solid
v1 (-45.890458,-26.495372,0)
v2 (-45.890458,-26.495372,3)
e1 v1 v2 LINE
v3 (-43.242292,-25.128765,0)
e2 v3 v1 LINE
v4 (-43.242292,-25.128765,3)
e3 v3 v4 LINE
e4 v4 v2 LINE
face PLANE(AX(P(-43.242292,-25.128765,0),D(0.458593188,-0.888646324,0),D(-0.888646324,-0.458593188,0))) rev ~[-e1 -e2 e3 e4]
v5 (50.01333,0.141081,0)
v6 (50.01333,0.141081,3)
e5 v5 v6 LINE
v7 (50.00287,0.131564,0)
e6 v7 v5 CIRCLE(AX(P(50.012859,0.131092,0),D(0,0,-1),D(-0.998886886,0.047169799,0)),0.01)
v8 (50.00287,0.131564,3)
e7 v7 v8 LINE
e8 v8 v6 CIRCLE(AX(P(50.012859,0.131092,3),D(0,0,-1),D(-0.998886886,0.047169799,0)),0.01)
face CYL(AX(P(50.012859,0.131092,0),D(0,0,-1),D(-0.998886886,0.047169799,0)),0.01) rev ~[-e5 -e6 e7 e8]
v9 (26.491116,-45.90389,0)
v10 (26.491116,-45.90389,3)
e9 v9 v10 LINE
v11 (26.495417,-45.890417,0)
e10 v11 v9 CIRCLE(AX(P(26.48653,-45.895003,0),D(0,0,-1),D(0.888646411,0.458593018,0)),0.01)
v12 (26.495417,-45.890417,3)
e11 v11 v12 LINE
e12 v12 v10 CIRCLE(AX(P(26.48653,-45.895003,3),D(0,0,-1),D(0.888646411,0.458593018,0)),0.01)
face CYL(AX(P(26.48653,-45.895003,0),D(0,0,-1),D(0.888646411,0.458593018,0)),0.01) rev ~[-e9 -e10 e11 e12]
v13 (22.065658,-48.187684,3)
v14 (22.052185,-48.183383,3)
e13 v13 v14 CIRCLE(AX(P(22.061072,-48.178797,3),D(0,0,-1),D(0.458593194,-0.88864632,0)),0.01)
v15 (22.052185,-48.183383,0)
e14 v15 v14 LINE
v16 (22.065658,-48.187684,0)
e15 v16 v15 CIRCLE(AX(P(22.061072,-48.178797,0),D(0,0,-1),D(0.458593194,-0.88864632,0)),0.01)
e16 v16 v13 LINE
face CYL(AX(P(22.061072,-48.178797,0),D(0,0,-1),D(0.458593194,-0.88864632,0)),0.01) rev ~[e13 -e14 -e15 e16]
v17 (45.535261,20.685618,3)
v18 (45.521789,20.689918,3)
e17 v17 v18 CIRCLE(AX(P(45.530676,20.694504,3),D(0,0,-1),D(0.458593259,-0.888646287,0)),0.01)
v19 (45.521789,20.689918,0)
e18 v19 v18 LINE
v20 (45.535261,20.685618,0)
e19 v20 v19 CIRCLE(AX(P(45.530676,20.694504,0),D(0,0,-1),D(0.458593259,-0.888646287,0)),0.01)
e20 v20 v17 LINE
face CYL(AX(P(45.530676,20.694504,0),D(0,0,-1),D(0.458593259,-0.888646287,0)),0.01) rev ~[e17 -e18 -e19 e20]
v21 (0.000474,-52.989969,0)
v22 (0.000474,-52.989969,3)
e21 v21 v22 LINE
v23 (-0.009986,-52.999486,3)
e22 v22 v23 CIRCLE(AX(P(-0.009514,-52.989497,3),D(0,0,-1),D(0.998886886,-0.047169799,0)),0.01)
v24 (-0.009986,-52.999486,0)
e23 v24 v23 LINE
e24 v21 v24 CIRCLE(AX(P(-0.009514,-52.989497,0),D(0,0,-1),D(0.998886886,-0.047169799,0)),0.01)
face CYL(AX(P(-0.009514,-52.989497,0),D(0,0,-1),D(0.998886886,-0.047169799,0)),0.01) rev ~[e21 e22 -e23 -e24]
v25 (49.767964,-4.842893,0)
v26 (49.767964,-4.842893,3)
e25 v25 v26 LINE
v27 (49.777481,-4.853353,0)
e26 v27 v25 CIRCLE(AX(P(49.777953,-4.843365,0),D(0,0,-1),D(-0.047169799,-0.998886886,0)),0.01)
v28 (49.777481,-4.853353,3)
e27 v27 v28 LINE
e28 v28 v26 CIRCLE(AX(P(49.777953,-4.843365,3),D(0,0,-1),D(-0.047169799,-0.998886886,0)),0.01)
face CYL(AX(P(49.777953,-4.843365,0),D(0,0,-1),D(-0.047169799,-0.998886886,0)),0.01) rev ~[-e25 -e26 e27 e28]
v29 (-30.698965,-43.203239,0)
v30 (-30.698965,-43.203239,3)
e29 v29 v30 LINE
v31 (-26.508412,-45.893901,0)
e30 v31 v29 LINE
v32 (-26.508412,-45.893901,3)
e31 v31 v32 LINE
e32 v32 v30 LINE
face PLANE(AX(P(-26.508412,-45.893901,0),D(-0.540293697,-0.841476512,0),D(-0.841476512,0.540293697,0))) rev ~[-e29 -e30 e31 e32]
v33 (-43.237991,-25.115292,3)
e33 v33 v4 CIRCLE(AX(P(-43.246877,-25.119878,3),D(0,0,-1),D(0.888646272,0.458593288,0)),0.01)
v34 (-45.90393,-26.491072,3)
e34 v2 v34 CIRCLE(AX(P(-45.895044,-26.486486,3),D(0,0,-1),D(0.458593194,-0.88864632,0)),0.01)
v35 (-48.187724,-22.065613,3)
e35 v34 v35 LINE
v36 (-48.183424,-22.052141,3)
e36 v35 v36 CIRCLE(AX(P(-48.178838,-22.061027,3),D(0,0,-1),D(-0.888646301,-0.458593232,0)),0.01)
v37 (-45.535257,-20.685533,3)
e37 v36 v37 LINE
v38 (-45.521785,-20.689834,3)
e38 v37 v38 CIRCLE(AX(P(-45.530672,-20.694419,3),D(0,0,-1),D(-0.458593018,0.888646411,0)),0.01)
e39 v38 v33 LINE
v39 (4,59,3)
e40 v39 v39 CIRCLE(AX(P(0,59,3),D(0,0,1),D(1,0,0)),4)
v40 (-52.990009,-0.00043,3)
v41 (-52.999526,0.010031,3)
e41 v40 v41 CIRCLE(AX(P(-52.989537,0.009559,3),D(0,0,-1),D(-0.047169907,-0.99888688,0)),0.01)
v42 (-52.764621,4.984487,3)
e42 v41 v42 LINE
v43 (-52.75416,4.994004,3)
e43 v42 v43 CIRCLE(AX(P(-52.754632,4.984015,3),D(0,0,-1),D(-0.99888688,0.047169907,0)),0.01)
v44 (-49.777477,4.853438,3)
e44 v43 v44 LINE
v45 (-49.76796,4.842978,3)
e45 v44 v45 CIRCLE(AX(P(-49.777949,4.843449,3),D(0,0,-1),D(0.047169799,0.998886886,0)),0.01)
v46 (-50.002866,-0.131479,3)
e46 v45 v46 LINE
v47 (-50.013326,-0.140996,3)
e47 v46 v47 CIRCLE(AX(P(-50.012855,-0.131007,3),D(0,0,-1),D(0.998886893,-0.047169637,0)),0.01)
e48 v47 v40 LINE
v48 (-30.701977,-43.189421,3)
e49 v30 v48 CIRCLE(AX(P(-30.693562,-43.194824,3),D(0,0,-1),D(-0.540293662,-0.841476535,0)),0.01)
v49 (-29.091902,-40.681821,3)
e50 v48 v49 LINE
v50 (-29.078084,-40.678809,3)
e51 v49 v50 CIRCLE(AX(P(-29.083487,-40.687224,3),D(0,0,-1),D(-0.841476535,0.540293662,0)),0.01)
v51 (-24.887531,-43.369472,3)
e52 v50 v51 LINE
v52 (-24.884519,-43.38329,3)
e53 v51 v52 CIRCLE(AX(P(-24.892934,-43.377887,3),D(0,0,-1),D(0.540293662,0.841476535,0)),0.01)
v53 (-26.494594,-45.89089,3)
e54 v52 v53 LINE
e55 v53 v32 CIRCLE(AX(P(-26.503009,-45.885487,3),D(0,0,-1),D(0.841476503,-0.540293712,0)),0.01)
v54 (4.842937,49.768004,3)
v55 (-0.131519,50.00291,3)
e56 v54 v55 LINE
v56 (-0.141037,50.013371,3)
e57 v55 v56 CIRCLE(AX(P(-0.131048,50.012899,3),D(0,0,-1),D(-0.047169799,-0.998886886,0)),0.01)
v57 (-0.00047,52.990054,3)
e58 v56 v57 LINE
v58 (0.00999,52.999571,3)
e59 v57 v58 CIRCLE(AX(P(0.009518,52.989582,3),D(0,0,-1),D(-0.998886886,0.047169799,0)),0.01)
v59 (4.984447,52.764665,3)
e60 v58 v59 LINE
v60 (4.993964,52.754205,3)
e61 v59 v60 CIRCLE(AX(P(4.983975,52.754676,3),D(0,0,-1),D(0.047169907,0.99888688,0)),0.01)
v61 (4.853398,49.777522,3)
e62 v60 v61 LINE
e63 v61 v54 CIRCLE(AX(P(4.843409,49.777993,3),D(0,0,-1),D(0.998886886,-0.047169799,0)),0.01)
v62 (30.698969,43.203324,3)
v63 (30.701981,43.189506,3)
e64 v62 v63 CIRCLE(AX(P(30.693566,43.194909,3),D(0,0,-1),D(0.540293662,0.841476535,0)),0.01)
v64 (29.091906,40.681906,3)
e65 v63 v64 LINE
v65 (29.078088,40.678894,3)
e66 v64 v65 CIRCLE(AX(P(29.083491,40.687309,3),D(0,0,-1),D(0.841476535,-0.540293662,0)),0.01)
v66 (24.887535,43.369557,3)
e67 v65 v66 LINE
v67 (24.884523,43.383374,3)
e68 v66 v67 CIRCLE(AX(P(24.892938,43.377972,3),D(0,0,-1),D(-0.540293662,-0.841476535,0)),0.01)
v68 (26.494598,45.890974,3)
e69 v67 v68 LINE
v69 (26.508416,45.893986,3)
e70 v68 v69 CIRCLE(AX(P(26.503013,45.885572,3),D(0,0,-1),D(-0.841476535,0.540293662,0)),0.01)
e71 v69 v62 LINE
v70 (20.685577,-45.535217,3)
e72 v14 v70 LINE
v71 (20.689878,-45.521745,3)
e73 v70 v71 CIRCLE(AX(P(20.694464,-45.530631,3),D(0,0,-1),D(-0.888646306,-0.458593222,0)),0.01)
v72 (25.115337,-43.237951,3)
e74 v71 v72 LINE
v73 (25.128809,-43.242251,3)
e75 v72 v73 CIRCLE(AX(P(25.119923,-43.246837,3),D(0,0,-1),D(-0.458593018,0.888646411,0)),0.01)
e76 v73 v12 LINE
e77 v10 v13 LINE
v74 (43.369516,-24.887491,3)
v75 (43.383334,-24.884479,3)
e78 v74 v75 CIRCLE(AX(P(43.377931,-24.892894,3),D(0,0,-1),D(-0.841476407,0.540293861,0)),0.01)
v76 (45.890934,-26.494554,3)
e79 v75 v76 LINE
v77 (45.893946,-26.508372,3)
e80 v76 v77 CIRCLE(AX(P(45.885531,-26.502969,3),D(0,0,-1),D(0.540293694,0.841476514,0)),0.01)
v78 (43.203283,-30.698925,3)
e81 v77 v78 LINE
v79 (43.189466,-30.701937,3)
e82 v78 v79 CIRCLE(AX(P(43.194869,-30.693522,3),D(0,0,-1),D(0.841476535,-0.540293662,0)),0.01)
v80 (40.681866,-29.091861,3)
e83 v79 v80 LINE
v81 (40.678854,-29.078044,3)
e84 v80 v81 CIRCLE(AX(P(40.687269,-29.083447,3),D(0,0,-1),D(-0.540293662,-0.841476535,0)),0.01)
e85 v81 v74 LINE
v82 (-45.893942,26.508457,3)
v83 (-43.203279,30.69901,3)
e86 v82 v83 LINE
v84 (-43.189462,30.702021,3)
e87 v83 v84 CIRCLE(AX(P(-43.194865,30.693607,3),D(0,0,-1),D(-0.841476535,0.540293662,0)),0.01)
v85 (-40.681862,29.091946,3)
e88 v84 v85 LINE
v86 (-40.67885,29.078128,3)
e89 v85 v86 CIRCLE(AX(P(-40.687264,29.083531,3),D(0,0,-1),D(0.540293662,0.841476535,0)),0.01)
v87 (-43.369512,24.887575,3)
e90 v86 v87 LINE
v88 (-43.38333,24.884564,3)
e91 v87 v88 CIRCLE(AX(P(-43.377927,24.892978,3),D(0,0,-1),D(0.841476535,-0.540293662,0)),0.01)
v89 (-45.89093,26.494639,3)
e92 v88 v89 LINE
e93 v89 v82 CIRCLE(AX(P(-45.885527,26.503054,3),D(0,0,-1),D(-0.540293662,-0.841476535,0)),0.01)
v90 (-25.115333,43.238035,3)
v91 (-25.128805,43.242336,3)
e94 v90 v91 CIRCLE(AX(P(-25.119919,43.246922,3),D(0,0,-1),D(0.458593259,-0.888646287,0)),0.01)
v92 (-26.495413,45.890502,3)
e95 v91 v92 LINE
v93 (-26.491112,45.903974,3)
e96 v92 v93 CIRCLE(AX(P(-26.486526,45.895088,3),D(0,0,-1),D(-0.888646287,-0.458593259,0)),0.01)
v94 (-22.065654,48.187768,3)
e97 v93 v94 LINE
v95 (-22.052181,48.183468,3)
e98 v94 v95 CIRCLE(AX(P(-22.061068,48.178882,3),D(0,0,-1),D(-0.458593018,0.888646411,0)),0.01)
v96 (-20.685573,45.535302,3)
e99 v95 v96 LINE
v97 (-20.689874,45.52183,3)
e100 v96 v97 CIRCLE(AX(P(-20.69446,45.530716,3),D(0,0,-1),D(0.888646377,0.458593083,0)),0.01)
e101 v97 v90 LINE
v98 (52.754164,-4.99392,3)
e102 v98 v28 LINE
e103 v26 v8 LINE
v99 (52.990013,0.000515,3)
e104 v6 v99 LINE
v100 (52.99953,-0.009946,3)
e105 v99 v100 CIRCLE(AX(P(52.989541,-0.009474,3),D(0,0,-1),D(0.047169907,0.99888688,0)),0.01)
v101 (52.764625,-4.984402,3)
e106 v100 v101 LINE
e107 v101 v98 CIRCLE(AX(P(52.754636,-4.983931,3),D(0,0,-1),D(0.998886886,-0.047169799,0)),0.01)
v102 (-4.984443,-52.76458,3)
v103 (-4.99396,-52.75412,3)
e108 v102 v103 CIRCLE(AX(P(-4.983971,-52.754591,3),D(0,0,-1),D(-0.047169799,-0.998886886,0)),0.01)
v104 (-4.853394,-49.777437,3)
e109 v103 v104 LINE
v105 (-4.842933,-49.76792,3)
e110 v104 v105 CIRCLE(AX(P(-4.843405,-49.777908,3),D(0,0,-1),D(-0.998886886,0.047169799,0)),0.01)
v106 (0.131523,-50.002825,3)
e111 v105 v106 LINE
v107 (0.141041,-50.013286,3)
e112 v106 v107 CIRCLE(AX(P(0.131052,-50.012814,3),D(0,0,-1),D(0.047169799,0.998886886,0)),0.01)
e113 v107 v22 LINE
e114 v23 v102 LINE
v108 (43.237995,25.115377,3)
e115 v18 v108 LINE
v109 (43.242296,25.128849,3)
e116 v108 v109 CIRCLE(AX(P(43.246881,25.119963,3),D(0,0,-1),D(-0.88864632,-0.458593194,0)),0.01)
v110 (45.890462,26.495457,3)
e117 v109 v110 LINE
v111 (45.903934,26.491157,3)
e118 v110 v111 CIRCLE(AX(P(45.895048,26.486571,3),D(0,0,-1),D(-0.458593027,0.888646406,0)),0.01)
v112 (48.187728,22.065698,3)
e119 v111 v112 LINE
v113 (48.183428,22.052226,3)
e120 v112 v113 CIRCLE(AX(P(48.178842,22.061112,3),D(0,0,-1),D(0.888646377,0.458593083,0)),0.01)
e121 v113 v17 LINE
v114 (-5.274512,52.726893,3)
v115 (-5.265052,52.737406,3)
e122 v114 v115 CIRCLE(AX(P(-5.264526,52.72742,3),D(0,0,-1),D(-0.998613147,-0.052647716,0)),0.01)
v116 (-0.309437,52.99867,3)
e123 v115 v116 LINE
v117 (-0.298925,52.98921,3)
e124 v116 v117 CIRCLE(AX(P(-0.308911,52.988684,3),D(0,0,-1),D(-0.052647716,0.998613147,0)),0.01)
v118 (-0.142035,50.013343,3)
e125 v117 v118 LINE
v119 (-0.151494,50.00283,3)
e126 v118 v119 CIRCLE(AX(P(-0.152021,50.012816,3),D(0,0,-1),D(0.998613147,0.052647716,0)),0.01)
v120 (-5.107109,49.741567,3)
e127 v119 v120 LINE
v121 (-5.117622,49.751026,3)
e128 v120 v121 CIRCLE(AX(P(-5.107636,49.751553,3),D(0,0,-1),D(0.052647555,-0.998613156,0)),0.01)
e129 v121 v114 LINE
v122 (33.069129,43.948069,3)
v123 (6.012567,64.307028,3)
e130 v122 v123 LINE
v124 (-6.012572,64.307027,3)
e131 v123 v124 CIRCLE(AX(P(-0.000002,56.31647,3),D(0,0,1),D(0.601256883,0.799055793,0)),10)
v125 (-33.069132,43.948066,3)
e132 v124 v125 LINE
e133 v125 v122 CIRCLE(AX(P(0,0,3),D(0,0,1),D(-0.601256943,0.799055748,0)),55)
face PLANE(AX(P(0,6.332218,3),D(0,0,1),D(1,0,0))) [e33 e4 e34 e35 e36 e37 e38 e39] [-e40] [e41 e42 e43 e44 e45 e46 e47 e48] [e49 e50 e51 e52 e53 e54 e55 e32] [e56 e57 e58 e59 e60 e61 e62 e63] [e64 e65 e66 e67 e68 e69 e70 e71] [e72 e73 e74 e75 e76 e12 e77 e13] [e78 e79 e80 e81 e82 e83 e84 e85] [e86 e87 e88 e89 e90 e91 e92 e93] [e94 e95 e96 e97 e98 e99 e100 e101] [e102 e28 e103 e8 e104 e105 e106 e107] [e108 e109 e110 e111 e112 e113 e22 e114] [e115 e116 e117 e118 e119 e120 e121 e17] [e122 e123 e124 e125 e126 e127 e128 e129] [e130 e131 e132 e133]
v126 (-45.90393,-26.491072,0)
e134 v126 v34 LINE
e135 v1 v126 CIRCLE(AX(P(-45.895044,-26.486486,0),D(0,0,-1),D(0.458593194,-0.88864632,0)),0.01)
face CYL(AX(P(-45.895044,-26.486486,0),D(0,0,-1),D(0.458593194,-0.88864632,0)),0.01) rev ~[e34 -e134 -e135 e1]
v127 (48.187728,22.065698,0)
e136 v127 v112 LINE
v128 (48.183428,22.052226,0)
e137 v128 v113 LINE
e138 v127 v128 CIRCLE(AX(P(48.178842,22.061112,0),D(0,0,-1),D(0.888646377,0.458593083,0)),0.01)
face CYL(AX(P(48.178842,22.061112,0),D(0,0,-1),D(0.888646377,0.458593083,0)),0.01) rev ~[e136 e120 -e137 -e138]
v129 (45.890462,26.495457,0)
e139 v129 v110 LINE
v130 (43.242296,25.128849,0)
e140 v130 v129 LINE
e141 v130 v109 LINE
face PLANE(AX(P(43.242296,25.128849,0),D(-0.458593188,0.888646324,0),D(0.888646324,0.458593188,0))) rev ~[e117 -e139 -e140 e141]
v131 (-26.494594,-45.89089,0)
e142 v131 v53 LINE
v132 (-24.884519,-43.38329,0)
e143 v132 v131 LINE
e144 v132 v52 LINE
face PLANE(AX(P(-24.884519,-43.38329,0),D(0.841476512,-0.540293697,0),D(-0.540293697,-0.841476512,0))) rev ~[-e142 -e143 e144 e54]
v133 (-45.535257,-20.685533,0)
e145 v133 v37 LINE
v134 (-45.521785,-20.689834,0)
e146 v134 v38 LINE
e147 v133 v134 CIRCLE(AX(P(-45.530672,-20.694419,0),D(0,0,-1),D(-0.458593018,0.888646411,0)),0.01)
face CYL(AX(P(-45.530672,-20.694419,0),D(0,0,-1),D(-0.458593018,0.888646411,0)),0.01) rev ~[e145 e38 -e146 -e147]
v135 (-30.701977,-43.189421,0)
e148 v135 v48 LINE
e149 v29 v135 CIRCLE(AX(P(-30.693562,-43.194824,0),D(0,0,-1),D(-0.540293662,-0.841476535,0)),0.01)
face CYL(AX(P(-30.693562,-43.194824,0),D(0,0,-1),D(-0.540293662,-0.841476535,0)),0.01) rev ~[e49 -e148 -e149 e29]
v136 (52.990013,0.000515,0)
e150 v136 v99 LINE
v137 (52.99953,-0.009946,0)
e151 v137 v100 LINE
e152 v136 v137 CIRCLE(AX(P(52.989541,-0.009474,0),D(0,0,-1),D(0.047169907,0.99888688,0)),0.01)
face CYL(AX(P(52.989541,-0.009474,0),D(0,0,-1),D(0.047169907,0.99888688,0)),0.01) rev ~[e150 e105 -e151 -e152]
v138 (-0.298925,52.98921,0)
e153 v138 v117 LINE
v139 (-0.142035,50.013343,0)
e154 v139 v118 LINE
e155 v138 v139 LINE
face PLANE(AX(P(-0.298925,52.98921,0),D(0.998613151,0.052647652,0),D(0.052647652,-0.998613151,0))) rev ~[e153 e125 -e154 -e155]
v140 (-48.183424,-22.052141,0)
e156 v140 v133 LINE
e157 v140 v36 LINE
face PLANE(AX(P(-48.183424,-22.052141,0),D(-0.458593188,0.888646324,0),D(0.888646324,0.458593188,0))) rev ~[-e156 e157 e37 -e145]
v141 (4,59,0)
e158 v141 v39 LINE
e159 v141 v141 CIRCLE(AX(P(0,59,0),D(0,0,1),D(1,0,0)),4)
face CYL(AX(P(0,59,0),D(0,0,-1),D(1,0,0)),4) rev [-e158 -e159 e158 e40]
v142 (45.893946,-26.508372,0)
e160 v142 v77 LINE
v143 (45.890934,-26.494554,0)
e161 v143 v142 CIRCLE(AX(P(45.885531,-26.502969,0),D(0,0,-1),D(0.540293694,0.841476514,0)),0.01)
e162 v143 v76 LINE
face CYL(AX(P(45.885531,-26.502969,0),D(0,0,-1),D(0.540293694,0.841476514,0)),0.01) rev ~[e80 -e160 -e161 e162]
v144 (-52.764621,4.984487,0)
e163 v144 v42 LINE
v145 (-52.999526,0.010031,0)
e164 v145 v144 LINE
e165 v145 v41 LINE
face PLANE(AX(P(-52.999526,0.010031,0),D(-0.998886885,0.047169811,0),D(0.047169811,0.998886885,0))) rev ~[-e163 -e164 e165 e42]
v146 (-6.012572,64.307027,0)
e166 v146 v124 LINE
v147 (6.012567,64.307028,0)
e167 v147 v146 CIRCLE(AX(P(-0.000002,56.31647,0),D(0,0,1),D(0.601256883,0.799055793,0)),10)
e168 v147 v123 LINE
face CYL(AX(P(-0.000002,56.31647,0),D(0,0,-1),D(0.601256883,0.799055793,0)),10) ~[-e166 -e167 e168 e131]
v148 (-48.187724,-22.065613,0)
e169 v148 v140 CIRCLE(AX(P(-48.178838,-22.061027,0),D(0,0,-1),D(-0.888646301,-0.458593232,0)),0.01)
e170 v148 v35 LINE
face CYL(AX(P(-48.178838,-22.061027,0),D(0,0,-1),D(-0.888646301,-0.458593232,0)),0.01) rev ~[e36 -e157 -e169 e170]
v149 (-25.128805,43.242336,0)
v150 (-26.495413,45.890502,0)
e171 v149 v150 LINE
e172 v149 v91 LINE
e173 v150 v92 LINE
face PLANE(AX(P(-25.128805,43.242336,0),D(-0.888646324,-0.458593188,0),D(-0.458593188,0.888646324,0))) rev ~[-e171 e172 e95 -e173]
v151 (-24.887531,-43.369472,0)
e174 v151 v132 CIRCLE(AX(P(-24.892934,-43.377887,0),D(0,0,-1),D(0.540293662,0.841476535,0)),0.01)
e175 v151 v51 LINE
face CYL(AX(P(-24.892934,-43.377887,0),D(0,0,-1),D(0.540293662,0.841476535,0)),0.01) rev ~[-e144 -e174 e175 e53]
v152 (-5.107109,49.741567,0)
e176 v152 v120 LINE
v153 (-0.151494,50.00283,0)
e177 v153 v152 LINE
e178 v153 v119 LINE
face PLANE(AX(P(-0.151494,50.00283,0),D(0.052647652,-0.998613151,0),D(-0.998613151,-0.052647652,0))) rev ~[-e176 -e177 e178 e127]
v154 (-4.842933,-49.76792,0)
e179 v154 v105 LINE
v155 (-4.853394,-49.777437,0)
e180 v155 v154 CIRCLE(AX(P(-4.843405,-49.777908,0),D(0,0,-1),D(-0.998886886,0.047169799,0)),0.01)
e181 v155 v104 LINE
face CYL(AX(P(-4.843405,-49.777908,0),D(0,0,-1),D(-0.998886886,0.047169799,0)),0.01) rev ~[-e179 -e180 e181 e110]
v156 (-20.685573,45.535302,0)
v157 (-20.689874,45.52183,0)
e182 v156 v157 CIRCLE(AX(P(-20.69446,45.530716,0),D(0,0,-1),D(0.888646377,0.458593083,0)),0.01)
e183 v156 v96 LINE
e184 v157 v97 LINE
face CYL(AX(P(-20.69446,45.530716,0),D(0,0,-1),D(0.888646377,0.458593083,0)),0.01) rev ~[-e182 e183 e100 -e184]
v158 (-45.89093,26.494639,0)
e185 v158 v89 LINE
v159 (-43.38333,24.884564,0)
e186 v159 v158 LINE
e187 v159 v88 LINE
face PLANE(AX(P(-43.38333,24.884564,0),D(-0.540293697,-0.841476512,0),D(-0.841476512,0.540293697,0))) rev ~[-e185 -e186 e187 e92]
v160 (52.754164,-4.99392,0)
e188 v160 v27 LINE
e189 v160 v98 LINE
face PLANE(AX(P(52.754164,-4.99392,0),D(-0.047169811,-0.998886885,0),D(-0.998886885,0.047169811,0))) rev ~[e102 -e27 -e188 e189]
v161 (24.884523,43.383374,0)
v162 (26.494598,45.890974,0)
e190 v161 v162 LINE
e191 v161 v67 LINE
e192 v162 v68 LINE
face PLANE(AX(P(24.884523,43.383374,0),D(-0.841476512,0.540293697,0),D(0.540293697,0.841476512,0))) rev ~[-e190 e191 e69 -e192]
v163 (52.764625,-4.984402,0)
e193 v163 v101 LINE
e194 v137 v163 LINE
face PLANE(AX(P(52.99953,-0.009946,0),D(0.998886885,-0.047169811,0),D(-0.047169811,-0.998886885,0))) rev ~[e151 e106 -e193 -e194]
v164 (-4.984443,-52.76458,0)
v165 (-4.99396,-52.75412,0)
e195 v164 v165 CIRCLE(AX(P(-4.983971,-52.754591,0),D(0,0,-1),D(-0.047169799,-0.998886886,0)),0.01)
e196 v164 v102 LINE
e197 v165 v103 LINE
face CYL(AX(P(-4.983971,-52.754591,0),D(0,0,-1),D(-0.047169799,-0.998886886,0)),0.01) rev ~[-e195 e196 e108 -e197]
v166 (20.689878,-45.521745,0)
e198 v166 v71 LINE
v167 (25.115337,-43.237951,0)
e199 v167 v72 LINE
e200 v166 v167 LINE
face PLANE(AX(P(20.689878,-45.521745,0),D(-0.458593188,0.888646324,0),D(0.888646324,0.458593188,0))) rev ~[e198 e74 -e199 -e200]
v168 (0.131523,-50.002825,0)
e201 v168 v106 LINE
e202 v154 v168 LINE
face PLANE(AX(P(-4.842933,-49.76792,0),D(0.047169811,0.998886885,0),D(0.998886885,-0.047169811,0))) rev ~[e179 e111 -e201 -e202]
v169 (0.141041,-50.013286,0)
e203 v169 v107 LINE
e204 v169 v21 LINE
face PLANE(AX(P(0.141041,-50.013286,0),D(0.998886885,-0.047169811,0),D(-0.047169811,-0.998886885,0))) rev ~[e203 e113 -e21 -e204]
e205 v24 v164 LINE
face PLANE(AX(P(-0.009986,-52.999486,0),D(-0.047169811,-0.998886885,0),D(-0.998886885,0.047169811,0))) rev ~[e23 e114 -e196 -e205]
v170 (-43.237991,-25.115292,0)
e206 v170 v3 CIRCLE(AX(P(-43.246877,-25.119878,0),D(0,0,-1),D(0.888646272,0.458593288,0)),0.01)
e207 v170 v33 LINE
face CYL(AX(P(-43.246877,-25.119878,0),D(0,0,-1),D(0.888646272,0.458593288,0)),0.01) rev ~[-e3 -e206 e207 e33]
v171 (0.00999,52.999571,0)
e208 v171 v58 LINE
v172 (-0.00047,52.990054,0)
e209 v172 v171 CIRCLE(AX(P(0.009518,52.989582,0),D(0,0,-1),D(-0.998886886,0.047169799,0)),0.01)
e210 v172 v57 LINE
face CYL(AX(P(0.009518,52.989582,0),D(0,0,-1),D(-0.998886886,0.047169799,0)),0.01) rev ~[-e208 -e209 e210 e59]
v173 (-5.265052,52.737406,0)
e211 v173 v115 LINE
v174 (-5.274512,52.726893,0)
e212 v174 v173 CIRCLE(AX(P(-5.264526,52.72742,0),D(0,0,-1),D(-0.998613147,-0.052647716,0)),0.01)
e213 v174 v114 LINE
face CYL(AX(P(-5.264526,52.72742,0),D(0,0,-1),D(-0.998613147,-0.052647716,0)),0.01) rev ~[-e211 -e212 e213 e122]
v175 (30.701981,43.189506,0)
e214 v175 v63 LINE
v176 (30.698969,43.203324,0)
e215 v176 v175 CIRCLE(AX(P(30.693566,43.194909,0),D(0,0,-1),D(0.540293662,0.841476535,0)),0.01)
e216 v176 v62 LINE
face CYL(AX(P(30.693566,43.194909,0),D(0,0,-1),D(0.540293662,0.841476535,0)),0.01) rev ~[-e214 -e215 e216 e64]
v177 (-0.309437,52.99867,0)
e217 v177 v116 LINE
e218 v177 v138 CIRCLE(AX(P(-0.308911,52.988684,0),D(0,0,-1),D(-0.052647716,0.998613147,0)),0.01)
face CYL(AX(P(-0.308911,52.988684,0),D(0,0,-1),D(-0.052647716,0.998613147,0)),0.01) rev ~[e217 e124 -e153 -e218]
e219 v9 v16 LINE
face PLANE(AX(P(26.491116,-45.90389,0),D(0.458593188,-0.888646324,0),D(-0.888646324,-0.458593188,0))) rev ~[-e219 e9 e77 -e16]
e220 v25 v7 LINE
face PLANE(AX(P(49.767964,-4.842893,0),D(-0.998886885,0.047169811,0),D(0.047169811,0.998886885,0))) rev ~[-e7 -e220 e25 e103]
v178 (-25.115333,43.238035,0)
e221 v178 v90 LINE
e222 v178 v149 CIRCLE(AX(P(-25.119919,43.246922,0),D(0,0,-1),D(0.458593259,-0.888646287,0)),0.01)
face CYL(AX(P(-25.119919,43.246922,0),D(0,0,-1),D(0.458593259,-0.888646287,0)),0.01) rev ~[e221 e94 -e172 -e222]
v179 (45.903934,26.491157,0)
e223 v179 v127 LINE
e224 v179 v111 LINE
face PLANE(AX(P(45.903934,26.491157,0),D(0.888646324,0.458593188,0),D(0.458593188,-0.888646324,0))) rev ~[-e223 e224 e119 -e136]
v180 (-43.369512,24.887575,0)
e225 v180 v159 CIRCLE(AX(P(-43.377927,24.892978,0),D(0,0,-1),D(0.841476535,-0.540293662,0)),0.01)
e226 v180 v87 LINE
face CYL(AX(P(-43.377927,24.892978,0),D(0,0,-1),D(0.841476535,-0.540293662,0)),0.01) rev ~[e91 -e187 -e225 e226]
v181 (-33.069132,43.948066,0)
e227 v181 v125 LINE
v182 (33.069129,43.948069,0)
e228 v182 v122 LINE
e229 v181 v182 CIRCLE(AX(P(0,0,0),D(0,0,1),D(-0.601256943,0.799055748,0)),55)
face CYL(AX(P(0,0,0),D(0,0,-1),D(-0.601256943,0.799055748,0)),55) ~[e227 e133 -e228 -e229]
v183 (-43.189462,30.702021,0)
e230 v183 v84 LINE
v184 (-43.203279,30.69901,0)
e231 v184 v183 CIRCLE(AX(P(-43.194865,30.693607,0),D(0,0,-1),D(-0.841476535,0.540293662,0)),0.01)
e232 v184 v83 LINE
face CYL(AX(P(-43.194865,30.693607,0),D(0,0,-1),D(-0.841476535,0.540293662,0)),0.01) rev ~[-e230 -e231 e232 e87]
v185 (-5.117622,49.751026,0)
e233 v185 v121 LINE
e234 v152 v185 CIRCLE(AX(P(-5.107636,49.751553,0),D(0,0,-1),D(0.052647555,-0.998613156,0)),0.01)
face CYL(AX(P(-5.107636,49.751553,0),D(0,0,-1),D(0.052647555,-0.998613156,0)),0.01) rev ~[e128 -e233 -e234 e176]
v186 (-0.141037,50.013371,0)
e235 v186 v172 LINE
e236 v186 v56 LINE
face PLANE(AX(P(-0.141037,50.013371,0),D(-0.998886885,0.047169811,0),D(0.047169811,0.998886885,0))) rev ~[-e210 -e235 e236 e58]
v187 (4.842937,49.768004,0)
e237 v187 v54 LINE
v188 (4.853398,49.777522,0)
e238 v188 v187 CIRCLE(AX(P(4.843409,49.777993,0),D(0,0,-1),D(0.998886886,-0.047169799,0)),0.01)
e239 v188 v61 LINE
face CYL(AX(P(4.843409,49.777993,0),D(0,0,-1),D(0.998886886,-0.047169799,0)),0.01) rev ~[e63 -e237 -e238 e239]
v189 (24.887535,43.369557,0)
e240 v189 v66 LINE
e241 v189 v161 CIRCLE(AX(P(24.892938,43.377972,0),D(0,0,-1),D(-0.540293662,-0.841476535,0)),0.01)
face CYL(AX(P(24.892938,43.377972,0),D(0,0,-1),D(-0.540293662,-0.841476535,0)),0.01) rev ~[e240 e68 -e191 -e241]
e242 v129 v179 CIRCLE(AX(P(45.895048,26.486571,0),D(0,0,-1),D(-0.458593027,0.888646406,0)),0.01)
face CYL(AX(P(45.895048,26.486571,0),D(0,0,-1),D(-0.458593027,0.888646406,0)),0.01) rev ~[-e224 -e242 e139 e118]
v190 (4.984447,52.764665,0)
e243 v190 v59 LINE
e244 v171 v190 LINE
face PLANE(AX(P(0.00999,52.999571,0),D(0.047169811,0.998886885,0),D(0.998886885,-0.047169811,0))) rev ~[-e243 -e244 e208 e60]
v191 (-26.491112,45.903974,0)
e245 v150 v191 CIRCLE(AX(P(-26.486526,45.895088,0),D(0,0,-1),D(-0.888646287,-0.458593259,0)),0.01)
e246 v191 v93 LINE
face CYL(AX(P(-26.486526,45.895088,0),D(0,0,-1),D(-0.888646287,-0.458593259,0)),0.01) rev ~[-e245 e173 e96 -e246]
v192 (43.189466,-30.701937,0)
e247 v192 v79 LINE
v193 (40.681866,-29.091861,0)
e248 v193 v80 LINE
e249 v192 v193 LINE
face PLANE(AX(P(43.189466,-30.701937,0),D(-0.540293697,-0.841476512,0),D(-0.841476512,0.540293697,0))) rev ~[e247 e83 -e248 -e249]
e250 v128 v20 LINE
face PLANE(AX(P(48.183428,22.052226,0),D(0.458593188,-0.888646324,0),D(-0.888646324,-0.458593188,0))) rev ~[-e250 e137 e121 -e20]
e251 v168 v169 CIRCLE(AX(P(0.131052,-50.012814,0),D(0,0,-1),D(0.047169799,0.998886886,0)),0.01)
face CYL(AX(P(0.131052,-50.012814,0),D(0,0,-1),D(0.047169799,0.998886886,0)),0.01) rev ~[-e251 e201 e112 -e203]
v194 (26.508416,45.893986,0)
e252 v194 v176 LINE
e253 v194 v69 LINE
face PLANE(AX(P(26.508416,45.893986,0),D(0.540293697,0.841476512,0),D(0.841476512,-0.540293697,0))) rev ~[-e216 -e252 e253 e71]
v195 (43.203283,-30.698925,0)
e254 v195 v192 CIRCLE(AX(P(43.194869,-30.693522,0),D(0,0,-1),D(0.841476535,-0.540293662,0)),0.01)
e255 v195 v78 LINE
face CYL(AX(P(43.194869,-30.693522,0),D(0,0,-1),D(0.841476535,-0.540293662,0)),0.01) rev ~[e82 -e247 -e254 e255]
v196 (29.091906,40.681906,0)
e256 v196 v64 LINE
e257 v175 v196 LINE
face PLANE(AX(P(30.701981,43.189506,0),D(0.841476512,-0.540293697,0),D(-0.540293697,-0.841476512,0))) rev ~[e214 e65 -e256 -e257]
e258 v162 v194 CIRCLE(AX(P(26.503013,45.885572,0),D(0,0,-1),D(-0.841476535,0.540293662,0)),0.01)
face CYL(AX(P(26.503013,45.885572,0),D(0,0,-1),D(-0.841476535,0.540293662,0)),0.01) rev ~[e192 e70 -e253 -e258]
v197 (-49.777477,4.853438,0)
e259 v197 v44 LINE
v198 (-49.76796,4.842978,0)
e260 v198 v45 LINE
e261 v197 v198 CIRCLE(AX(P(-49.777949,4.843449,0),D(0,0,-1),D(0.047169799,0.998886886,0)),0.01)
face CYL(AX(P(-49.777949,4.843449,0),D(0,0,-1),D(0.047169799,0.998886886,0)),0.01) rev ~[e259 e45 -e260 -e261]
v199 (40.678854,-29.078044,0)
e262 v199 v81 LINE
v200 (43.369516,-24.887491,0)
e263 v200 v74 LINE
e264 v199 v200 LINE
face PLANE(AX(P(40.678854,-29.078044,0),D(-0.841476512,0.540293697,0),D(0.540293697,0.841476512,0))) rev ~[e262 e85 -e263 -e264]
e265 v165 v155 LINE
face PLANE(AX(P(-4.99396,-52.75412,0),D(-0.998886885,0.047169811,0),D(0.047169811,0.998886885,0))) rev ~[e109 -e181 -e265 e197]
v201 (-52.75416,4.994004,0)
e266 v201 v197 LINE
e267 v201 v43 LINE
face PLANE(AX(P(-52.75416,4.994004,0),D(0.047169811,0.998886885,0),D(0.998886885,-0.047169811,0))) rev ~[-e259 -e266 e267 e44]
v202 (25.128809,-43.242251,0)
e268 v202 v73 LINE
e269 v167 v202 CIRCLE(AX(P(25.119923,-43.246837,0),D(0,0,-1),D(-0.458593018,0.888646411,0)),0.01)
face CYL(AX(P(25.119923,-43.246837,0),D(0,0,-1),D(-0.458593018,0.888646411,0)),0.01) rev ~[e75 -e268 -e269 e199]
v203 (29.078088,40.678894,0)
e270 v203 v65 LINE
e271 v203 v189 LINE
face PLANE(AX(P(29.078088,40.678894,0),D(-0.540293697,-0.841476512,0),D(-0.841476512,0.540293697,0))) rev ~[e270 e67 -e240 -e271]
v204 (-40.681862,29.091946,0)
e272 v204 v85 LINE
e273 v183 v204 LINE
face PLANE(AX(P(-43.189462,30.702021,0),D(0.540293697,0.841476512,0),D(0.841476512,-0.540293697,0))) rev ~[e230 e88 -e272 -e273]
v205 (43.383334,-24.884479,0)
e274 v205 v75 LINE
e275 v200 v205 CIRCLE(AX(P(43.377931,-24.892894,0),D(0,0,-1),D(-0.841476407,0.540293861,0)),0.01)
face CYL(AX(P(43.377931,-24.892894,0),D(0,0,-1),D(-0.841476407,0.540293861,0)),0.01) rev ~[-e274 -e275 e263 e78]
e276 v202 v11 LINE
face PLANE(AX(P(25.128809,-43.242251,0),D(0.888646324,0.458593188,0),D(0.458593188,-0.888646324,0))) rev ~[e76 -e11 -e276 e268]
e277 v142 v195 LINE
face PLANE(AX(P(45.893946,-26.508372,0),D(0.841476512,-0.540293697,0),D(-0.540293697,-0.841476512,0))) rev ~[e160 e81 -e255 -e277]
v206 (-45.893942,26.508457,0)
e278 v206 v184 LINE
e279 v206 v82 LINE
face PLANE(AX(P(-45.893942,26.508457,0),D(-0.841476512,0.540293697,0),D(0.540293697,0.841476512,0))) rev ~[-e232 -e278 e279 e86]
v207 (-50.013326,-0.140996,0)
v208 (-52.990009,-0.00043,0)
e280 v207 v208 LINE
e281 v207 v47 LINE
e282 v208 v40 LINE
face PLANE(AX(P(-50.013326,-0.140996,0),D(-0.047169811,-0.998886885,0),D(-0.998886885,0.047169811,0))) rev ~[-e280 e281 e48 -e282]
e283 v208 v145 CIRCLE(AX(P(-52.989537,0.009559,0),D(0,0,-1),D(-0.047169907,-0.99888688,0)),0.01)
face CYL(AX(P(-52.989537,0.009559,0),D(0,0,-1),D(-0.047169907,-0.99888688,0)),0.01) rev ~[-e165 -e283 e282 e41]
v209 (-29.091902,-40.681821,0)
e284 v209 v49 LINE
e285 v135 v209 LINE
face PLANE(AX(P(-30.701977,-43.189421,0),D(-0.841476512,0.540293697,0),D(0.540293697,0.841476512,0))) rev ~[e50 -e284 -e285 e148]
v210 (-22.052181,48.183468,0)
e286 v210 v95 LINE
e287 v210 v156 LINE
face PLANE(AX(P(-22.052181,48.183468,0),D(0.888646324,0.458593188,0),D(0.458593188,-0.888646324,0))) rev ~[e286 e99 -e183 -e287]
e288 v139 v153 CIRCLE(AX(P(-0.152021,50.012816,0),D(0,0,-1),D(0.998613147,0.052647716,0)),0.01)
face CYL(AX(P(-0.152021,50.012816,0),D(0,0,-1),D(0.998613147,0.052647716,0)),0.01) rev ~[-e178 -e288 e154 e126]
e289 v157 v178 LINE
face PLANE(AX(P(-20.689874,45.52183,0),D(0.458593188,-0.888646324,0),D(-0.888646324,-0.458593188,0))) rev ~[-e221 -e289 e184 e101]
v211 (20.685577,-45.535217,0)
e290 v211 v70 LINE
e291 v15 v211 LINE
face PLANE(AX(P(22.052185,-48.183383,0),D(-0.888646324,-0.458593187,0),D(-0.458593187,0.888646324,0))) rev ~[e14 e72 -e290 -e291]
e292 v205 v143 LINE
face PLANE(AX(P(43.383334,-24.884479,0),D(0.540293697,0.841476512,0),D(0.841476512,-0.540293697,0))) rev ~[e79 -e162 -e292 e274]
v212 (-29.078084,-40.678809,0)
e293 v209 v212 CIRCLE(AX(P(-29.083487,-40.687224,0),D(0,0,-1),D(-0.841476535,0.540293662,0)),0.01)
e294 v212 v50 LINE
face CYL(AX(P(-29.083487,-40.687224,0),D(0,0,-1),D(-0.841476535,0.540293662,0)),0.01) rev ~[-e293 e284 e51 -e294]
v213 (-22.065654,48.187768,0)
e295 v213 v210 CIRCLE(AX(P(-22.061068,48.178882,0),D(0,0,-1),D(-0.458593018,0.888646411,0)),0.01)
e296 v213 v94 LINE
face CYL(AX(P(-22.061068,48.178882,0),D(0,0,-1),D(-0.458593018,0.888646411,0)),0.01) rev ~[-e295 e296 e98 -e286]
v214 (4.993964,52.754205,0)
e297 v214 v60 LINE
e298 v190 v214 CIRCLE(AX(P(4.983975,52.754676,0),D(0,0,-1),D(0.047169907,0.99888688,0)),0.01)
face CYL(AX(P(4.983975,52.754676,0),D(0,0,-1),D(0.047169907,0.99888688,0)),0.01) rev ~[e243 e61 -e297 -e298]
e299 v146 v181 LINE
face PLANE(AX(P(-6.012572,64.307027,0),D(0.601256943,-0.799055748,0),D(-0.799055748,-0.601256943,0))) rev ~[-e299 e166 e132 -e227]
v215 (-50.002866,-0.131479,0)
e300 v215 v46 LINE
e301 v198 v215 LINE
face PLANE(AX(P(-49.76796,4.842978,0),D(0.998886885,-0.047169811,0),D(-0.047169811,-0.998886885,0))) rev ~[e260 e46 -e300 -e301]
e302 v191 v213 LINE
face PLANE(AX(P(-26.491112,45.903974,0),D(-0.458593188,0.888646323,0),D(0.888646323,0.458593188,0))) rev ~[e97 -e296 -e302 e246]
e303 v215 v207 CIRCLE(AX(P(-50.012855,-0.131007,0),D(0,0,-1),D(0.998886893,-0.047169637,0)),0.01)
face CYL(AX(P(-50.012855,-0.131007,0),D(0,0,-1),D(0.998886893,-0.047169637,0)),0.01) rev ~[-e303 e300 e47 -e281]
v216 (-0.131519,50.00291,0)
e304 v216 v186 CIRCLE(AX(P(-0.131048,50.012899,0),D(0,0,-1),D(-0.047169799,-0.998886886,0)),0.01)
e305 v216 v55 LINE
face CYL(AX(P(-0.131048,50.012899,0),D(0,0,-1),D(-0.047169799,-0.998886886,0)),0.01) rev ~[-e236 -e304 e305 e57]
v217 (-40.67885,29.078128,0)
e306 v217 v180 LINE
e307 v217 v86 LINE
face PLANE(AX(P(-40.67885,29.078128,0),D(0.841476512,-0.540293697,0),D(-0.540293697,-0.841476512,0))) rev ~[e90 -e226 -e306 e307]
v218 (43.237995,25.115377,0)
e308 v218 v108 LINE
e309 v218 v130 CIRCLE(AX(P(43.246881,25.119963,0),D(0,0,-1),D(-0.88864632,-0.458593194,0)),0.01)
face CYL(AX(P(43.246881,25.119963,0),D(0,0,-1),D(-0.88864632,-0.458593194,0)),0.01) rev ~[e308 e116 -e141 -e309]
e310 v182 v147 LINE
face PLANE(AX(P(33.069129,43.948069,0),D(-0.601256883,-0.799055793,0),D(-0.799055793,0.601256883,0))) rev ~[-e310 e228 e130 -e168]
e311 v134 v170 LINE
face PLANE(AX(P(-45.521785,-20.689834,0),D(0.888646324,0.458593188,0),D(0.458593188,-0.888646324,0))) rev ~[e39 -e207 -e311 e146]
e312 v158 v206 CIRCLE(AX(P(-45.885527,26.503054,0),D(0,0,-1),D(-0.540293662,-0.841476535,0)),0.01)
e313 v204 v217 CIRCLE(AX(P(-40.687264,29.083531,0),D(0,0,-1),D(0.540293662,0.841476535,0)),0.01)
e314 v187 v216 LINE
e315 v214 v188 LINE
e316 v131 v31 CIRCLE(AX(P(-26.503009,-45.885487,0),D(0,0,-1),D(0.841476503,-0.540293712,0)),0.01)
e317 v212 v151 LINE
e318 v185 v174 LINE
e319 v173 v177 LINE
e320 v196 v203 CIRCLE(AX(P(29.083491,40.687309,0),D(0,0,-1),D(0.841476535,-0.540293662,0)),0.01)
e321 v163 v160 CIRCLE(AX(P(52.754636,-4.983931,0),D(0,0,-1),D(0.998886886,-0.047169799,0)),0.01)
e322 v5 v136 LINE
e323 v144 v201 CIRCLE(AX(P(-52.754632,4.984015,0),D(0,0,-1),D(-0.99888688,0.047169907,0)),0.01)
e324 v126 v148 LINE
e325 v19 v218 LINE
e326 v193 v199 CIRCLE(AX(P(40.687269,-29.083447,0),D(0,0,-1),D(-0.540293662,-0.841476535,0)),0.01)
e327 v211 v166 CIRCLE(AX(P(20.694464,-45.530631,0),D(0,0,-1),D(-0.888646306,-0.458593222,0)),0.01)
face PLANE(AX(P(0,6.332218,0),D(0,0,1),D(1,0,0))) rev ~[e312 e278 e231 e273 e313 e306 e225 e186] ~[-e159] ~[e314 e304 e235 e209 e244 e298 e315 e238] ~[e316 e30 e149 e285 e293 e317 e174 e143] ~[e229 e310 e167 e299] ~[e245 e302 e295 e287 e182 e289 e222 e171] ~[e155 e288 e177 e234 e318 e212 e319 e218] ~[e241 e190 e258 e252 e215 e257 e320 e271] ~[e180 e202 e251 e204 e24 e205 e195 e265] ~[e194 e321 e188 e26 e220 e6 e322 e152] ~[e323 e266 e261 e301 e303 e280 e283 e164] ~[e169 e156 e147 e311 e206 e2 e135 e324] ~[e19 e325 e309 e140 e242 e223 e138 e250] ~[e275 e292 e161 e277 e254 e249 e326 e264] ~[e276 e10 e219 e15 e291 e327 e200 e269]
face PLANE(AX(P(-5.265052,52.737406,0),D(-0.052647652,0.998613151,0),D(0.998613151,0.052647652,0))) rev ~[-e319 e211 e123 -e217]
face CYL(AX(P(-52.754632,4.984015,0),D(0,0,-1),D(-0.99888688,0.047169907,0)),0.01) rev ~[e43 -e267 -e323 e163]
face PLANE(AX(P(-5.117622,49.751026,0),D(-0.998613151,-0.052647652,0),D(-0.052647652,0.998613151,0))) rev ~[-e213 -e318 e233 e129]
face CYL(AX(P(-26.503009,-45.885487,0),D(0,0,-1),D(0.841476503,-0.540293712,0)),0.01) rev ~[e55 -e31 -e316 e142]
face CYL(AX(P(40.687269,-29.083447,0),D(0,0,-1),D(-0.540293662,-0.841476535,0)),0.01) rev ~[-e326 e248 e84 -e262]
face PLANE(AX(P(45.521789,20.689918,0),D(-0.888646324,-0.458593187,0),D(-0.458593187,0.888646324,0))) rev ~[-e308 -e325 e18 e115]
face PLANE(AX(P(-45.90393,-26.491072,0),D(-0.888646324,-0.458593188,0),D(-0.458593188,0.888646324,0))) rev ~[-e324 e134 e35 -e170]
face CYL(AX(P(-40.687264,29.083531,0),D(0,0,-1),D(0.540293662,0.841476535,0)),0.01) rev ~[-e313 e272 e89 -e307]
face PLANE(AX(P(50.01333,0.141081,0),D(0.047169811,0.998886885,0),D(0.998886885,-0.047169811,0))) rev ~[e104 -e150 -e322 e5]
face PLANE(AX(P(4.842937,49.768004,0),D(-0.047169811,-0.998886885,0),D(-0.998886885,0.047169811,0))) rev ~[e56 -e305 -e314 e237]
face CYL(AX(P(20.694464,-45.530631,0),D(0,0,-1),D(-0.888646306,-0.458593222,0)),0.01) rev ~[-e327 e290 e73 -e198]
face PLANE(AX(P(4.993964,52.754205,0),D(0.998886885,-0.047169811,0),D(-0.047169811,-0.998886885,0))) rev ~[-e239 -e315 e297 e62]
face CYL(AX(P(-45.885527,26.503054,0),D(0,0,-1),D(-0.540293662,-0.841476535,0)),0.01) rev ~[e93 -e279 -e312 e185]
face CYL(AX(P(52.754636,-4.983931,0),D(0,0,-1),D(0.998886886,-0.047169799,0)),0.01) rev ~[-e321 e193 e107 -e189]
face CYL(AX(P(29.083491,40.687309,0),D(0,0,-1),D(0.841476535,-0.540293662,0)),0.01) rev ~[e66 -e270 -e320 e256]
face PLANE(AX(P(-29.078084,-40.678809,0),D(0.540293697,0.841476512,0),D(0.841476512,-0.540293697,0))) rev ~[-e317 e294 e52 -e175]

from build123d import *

# Parameters (mm, degrees)
SKETCH1_R           = 4
BOSS_EXTRUDE2_DEPTH = 3


with BuildPart() as part:
    # Sketch1 → Boss-Extrude2 (new body)
    with BuildSketch(Plane.XY):
        with BuildLine():
            Line((-6.012571554, 64.307027075), (-33.069131887, 43.948066126))
            ThreePointArc((-33.069131887, 43.948066126), (2.07e-06, -55), (33.069128578, 43.948068616))
            Line((33.069128578, 43.948068616), (6.012566712, 64.307027528))
            ThreePointArc((6.012566712, 64.307027528), (-2.497e-06, 66.316469598), (-6.012571554, 64.307027075))
        make_face()
        with BuildLine():
            ThreePointArc((-30.698965133, -43.203238849), (-30.703332787, -43.196953768), (-30.701976961, -43.189421147))
            Line((-30.701976961, -43.189421147), (-29.091901743, -40.68182114))
            ThreePointArc((-29.091901743, -40.68182114), (-29.085616662, -40.677453486), (-29.078084041, -40.678809312))
            Line((-29.078084041, -40.678809312), (-24.88753101, -43.369471925))
            ThreePointArc((-24.88753101, -43.369471925), (-24.883163356, -43.375757006), (-24.884519182, -43.383289627))
            Line((-24.884519182, -43.383289627), (-26.4945944, -45.890889633))
            ThreePointArc((-26.4945944, -45.890889633), (-26.500879481, -45.895257287), (-26.508412102, -45.893901462))
            Line((-26.508412102, -45.893901462), (-30.698965133, -43.203238849))
        make_face(mode=Mode.SUBTRACT)
        with BuildLine():
            ThreePointArc((-4.98444277, -52.764580253), (-4.99136781, -52.76132104), (-4.993959941, -52.754119686))
            Line((-4.993959941, -52.754119686), (-4.853393903, -49.777436769))
            ThreePointArc((-4.853393903, -49.777436769), (-4.85013469, -49.770511729), (-4.842933336, -49.767919598))
            Line((-4.842933336, -49.767919598), (0.131523351, -50.002825259))
            ThreePointArc((0.131523351, -50.002825259), (0.138448391, -50.006084472), (0.141040522, -50.013285826))
            Line((0.141040522, -50.013285826), (0.000474484, -52.989968743))
            ThreePointArc((0.000474484, -52.989968743), (-0.002784729, -52.996893783), (-0.009986083, -52.999485914))
            Line((-0.009986083, -52.999485914), (-4.98444277, -52.764580253))
        make_face(mode=Mode.SUBTRACT)
        with BuildLine():
            ThreePointArc((-48.187724044, -22.065613117), (-48.188364003, -22.05798625), (-48.183423512, -22.052140721))
            Line((-48.183423512, -22.052140721), (-45.535257468, -20.685533022))
            ThreePointArc((-45.535257468, -20.685533022), (-45.527630602, -20.684893064), (-45.521785073, -20.689833554))
            Line((-45.521785073, -20.689833554), (-43.237990999, -25.115292245))
            ThreePointArc((-43.237990999, -25.115292245), (-43.23735104, -25.122919112), (-43.242291531, -25.12876464))
            Line((-43.242291531, -25.12876464), (-45.890457575, -26.495372339))
            ThreePointArc((-45.890457575, -26.495372339), (-45.898084441, -26.496012298), (-45.90392997, -26.491071808))
            Line((-45.90392997, -26.491071808), (-48.187724044, -22.065613117))
        make_face(mode=Mode.SUBTRACT)
        with BuildLine():
            ThreePointArc((-52.764620675, 4.984487199), (-52.761361462, 4.991412238), (-52.754160108, 4.994004369))
            Line((-52.754160108, 4.994004369), (-49.777477191, 4.853438332))
            ThreePointArc((-49.777477191, 4.853438332), (-49.770552151, 4.850179119), (-49.76796002, 4.842977765))
            Line((-49.76796002, 4.842977765), (-50.002865681, -0.131478922))
            ThreePointArc((-50.002865681, -0.131478922), (-50.006124893, -0.138403962), (-50.013326248, -0.140996093))
            Line((-50.013326248, -0.140996093), (-52.990009165, -0.000430055))
            ThreePointArc((-52.990009165, -0.000430055), (-52.996934204, 0.002829158), (-52.999526335, 0.010030512))
            Line((-52.999526335, 0.010030512), (-52.764620675, 4.984487199))
        make_face(mode=Mode.SUBTRACT)
        with BuildLine():
            ThreePointArc((22.065657545, -48.187683622), (22.058030679, -48.188323581), (22.05218515, -48.183383091))
            Line((22.05218515, -48.183383091), (20.685577451, -45.535217046))
            ThreePointArc((20.685577451, -45.535217046), (20.684937492, -45.52759018), (20.689877983, -45.521744651))
            Line((20.689877983, -45.521744651), (25.115336674, -43.237950577))
            ThreePointArc((25.115336674, -43.237950577), (25.12296354, -43.237310619), (25.128809069, -43.242251109))
            Line((25.128809069, -43.242251109), (26.495416768, -45.890417153))
            ThreePointArc((26.495416768, -45.890417153), (26.496056726, -45.898044019), (26.491116236, -45.903889548))
            Line((26.491116236, -45.903889548), (22.065657545, -48.187683622))
        make_face(mode=Mode.SUBTRACT)
        with BuildLine():
            ThreePointArc((43.203283277, -30.698924711), (43.196998196, -30.703292365), (43.189465575, -30.701936539))
            Line((43.189465575, -30.701936539), (40.681865569, -29.091861321))
            ThreePointArc((40.681865569, -29.091861321), (40.677497915, -29.08557624), (40.678853741, -29.078043619))
            Line((40.678853741, -29.078043619), (43.369516354, -24.887490588))
            ThreePointArc((43.369516354, -24.887490588), (43.375801435, -24.883122935), (43.383334056, -24.88447876))
            Line((43.383334056, -24.88447876), (45.890934062, -26.494553978))
            ThreePointArc((45.890934062, -26.494553978), (45.895301716, -26.500839059), (45.89394589, -26.508371681))
            Line((45.89394589, -26.508371681), (43.203283277, -30.698924711))
        make_face(mode=Mode.SUBTRACT)
        with BuildLine():
            ThreePointArc((52.990013172, 0.000514906), (52.996938211, -0.002744307), (52.999530342, -0.009945661))
            Line((52.999530342, -0.009945661), (52.764624682, -4.984402348))
            ThreePointArc((52.764624682, -4.984402348), (52.761365469, -4.991327388), (52.754164115, -4.993919519))
            Line((52.754164115, -4.993919519), (49.777481198, -4.853353481))
            ThreePointArc((49.777481198, -4.853353481), (49.770556158, -4.850094268), (49.767964027, -4.842892914))
            Line((49.767964027, -4.842892914), (50.002869687, 0.131563773))
            ThreePointArc((50.002869687, 0.131563773), (50.0061289, 0.138488813), (50.013330254, 0.141080944))
            Line((50.013330254, 0.141080944), (52.990013172, 0.000514906))
        make_face(mode=Mode.SUBTRACT)
        with BuildLine():
            ThreePointArc((-43.203279271, 30.699009562), (-43.19699419, 30.703377216), (-43.189461569, 30.70202139))
            Line((-43.189461569, 30.70202139), (-40.681861562, 29.091946172))
            ThreePointArc((-40.681861562, 29.091946172), (-40.677493908, 29.085661091), (-40.678849734, 29.07812847))
            Line((-40.678849734, 29.07812847), (-43.369512347, 24.887575439))
            ThreePointArc((-43.369512347, 24.887575439), (-43.375797428, 24.883207785), (-43.383330049, 24.884563611))
            Line((-43.383330049, 24.884563611), (-45.890930055, 26.494638829))
            ThreePointArc((-45.890930055, 26.494638829), (-45.895297709, 26.50092391), (-45.893941883, 26.508456531))
            Line((-45.893941883, 26.508456531), (-43.203279271, 30.699009562))
        make_face(mode=Mode.SUBTRACT)
        with BuildLine():
            ThreePointArc((-22.065653538, 48.187768473), (-22.058026672, 48.188408431), (-22.052181143, 48.183467941))
            Line((-22.052181143, 48.183467941), (-20.685573444, 45.535301897))
            ThreePointArc((-20.685573444, 45.535301897), (-20.684933486, 45.52767503), (-20.689873976, 45.521829502))
            Line((-20.689873976, 45.521829502), (-25.115332667, 43.238035428))
            ThreePointArc((-25.115332667, 43.238035428), (-25.122959534, 43.237395469), (-25.128805062, 43.242335959))
            Line((-25.128805062, 43.242335959), (-26.495412761, 45.890502003))
            ThreePointArc((-26.495412761, 45.890502003), (-26.49605272, 45.89812887), (-26.49111223, 45.903974398))
            Line((-26.49111223, 45.903974398), (-22.065653538, 48.187768473))
        make_face(mode=Mode.SUBTRACT)
        with BuildLine():
            ThreePointArc((-0.309437301, 52.998669808), (-0.302221838, 52.996117213), (-0.298924693, 52.989210153))
            Line((-0.298924693, 52.989210153), (-0.14203469, 50.013342964))
            ThreePointArc((-0.14203469, 50.013342964), (-0.144587285, 50.006127501), (-0.151494345, 50.002830356))
            Line((-0.151494345, 50.002830356), (-5.10710915, 49.741566538))
            ThreePointArc((-5.10710915, 49.741566538), (-5.114324612, 49.744119133), (-5.117621758, 49.751026193))
            Line((-5.117621758, 49.751026193), (-5.274511761, 52.726893382))
            ThreePointArc((-5.274511761, 52.726893382), (-5.271959166, 52.734108845), (-5.265052106, 52.73740599))
            Line((-5.265052106, 52.73740599), (-0.309437301, 52.998669808))
        make_face(mode=Mode.SUBTRACT)
        with Locations((0, 59)):
            Circle(SKETCH1_R, mode=Mode.SUBTRACT)
        with BuildLine():
            ThreePointArc((48.187728051, 22.065697967), (48.188368009, 22.0580711), (48.183427519, 22.052225572))
            Line((48.183427519, 22.052225572), (45.535261475, 20.685617873))
            ThreePointArc((45.535261475, 20.685617873), (45.527634608, 20.684977914), (45.52178908, 20.689918404))
            Line((45.52178908, 20.689918404), (43.237995006, 25.115377096))
            ThreePointArc((43.237995006, 25.115377096), (43.237355047, 25.123003962), (43.242295537, 25.128849491))
            Line((43.242295537, 25.128849491), (45.890461581, 26.49545719))
            ThreePointArc((45.890461581, 26.49545719), (45.898088448, 26.496097148), (45.903933977, 26.491156658))
            Line((45.903933977, 26.491156658), (48.187728051, 22.065697967))
        make_face(mode=Mode.SUBTRACT)
        with BuildLine():
            ThreePointArc((4.984446777, 52.764665104), (4.991371816, 52.761405891), (4.993963947, 52.754204537))
            Line((4.993963947, 52.754204537), (4.85339791, 49.77752162))
            ThreePointArc((4.85339791, 49.77752162), (4.850138697, 49.77059658), (4.842937343, 49.768004449))
            Line((4.842937343, 49.768004449), (-0.131519344, 50.002910109))
            ThreePointArc((-0.131519344, 50.002910109), (-0.138444384, 50.006169322), (-0.141036515, 50.013370676))
            Line((-0.141036515, 50.013370676), (-0.000470477, 52.990053593))
            ThreePointArc((-0.000470477, 52.990053593), (0.002788736, 52.996978633), (0.00999009, 52.999570764))
            Line((0.00999009, 52.999570764), (4.984446777, 52.764665104))
        make_face(mode=Mode.SUBTRACT)
        with BuildLine():
            ThreePointArc((30.69896914, 43.203323699), (30.703336794, 43.197038618), (30.701980968, 43.189505997))
            Line((30.701980968, 43.189505997), (29.09190575, 40.681905991))
            ThreePointArc((29.09190575, 40.681905991), (29.085620669, 40.677538337), (29.078088048, 40.678894163))
            Line((29.078088048, 40.678894163), (24.887535017, 43.369556776))
            ThreePointArc((24.887535017, 43.369556776), (24.883167363, 43.375841857), (24.884523189, 43.383374478))
            Line((24.884523189, 43.383374478), (26.494598407, 45.890974484))
            ThreePointArc((26.494598407, 45.890974484), (26.500883488, 45.895342138), (26.508416109, 45.893986312))
            Line((26.508416109, 45.893986312), (30.69896914, 43.203323699))
        make_face(mode=Mode.SUBTRACT)
    extrude(amount=BOSS_EXTRUDE2_DEPTH)


solid = part.part
